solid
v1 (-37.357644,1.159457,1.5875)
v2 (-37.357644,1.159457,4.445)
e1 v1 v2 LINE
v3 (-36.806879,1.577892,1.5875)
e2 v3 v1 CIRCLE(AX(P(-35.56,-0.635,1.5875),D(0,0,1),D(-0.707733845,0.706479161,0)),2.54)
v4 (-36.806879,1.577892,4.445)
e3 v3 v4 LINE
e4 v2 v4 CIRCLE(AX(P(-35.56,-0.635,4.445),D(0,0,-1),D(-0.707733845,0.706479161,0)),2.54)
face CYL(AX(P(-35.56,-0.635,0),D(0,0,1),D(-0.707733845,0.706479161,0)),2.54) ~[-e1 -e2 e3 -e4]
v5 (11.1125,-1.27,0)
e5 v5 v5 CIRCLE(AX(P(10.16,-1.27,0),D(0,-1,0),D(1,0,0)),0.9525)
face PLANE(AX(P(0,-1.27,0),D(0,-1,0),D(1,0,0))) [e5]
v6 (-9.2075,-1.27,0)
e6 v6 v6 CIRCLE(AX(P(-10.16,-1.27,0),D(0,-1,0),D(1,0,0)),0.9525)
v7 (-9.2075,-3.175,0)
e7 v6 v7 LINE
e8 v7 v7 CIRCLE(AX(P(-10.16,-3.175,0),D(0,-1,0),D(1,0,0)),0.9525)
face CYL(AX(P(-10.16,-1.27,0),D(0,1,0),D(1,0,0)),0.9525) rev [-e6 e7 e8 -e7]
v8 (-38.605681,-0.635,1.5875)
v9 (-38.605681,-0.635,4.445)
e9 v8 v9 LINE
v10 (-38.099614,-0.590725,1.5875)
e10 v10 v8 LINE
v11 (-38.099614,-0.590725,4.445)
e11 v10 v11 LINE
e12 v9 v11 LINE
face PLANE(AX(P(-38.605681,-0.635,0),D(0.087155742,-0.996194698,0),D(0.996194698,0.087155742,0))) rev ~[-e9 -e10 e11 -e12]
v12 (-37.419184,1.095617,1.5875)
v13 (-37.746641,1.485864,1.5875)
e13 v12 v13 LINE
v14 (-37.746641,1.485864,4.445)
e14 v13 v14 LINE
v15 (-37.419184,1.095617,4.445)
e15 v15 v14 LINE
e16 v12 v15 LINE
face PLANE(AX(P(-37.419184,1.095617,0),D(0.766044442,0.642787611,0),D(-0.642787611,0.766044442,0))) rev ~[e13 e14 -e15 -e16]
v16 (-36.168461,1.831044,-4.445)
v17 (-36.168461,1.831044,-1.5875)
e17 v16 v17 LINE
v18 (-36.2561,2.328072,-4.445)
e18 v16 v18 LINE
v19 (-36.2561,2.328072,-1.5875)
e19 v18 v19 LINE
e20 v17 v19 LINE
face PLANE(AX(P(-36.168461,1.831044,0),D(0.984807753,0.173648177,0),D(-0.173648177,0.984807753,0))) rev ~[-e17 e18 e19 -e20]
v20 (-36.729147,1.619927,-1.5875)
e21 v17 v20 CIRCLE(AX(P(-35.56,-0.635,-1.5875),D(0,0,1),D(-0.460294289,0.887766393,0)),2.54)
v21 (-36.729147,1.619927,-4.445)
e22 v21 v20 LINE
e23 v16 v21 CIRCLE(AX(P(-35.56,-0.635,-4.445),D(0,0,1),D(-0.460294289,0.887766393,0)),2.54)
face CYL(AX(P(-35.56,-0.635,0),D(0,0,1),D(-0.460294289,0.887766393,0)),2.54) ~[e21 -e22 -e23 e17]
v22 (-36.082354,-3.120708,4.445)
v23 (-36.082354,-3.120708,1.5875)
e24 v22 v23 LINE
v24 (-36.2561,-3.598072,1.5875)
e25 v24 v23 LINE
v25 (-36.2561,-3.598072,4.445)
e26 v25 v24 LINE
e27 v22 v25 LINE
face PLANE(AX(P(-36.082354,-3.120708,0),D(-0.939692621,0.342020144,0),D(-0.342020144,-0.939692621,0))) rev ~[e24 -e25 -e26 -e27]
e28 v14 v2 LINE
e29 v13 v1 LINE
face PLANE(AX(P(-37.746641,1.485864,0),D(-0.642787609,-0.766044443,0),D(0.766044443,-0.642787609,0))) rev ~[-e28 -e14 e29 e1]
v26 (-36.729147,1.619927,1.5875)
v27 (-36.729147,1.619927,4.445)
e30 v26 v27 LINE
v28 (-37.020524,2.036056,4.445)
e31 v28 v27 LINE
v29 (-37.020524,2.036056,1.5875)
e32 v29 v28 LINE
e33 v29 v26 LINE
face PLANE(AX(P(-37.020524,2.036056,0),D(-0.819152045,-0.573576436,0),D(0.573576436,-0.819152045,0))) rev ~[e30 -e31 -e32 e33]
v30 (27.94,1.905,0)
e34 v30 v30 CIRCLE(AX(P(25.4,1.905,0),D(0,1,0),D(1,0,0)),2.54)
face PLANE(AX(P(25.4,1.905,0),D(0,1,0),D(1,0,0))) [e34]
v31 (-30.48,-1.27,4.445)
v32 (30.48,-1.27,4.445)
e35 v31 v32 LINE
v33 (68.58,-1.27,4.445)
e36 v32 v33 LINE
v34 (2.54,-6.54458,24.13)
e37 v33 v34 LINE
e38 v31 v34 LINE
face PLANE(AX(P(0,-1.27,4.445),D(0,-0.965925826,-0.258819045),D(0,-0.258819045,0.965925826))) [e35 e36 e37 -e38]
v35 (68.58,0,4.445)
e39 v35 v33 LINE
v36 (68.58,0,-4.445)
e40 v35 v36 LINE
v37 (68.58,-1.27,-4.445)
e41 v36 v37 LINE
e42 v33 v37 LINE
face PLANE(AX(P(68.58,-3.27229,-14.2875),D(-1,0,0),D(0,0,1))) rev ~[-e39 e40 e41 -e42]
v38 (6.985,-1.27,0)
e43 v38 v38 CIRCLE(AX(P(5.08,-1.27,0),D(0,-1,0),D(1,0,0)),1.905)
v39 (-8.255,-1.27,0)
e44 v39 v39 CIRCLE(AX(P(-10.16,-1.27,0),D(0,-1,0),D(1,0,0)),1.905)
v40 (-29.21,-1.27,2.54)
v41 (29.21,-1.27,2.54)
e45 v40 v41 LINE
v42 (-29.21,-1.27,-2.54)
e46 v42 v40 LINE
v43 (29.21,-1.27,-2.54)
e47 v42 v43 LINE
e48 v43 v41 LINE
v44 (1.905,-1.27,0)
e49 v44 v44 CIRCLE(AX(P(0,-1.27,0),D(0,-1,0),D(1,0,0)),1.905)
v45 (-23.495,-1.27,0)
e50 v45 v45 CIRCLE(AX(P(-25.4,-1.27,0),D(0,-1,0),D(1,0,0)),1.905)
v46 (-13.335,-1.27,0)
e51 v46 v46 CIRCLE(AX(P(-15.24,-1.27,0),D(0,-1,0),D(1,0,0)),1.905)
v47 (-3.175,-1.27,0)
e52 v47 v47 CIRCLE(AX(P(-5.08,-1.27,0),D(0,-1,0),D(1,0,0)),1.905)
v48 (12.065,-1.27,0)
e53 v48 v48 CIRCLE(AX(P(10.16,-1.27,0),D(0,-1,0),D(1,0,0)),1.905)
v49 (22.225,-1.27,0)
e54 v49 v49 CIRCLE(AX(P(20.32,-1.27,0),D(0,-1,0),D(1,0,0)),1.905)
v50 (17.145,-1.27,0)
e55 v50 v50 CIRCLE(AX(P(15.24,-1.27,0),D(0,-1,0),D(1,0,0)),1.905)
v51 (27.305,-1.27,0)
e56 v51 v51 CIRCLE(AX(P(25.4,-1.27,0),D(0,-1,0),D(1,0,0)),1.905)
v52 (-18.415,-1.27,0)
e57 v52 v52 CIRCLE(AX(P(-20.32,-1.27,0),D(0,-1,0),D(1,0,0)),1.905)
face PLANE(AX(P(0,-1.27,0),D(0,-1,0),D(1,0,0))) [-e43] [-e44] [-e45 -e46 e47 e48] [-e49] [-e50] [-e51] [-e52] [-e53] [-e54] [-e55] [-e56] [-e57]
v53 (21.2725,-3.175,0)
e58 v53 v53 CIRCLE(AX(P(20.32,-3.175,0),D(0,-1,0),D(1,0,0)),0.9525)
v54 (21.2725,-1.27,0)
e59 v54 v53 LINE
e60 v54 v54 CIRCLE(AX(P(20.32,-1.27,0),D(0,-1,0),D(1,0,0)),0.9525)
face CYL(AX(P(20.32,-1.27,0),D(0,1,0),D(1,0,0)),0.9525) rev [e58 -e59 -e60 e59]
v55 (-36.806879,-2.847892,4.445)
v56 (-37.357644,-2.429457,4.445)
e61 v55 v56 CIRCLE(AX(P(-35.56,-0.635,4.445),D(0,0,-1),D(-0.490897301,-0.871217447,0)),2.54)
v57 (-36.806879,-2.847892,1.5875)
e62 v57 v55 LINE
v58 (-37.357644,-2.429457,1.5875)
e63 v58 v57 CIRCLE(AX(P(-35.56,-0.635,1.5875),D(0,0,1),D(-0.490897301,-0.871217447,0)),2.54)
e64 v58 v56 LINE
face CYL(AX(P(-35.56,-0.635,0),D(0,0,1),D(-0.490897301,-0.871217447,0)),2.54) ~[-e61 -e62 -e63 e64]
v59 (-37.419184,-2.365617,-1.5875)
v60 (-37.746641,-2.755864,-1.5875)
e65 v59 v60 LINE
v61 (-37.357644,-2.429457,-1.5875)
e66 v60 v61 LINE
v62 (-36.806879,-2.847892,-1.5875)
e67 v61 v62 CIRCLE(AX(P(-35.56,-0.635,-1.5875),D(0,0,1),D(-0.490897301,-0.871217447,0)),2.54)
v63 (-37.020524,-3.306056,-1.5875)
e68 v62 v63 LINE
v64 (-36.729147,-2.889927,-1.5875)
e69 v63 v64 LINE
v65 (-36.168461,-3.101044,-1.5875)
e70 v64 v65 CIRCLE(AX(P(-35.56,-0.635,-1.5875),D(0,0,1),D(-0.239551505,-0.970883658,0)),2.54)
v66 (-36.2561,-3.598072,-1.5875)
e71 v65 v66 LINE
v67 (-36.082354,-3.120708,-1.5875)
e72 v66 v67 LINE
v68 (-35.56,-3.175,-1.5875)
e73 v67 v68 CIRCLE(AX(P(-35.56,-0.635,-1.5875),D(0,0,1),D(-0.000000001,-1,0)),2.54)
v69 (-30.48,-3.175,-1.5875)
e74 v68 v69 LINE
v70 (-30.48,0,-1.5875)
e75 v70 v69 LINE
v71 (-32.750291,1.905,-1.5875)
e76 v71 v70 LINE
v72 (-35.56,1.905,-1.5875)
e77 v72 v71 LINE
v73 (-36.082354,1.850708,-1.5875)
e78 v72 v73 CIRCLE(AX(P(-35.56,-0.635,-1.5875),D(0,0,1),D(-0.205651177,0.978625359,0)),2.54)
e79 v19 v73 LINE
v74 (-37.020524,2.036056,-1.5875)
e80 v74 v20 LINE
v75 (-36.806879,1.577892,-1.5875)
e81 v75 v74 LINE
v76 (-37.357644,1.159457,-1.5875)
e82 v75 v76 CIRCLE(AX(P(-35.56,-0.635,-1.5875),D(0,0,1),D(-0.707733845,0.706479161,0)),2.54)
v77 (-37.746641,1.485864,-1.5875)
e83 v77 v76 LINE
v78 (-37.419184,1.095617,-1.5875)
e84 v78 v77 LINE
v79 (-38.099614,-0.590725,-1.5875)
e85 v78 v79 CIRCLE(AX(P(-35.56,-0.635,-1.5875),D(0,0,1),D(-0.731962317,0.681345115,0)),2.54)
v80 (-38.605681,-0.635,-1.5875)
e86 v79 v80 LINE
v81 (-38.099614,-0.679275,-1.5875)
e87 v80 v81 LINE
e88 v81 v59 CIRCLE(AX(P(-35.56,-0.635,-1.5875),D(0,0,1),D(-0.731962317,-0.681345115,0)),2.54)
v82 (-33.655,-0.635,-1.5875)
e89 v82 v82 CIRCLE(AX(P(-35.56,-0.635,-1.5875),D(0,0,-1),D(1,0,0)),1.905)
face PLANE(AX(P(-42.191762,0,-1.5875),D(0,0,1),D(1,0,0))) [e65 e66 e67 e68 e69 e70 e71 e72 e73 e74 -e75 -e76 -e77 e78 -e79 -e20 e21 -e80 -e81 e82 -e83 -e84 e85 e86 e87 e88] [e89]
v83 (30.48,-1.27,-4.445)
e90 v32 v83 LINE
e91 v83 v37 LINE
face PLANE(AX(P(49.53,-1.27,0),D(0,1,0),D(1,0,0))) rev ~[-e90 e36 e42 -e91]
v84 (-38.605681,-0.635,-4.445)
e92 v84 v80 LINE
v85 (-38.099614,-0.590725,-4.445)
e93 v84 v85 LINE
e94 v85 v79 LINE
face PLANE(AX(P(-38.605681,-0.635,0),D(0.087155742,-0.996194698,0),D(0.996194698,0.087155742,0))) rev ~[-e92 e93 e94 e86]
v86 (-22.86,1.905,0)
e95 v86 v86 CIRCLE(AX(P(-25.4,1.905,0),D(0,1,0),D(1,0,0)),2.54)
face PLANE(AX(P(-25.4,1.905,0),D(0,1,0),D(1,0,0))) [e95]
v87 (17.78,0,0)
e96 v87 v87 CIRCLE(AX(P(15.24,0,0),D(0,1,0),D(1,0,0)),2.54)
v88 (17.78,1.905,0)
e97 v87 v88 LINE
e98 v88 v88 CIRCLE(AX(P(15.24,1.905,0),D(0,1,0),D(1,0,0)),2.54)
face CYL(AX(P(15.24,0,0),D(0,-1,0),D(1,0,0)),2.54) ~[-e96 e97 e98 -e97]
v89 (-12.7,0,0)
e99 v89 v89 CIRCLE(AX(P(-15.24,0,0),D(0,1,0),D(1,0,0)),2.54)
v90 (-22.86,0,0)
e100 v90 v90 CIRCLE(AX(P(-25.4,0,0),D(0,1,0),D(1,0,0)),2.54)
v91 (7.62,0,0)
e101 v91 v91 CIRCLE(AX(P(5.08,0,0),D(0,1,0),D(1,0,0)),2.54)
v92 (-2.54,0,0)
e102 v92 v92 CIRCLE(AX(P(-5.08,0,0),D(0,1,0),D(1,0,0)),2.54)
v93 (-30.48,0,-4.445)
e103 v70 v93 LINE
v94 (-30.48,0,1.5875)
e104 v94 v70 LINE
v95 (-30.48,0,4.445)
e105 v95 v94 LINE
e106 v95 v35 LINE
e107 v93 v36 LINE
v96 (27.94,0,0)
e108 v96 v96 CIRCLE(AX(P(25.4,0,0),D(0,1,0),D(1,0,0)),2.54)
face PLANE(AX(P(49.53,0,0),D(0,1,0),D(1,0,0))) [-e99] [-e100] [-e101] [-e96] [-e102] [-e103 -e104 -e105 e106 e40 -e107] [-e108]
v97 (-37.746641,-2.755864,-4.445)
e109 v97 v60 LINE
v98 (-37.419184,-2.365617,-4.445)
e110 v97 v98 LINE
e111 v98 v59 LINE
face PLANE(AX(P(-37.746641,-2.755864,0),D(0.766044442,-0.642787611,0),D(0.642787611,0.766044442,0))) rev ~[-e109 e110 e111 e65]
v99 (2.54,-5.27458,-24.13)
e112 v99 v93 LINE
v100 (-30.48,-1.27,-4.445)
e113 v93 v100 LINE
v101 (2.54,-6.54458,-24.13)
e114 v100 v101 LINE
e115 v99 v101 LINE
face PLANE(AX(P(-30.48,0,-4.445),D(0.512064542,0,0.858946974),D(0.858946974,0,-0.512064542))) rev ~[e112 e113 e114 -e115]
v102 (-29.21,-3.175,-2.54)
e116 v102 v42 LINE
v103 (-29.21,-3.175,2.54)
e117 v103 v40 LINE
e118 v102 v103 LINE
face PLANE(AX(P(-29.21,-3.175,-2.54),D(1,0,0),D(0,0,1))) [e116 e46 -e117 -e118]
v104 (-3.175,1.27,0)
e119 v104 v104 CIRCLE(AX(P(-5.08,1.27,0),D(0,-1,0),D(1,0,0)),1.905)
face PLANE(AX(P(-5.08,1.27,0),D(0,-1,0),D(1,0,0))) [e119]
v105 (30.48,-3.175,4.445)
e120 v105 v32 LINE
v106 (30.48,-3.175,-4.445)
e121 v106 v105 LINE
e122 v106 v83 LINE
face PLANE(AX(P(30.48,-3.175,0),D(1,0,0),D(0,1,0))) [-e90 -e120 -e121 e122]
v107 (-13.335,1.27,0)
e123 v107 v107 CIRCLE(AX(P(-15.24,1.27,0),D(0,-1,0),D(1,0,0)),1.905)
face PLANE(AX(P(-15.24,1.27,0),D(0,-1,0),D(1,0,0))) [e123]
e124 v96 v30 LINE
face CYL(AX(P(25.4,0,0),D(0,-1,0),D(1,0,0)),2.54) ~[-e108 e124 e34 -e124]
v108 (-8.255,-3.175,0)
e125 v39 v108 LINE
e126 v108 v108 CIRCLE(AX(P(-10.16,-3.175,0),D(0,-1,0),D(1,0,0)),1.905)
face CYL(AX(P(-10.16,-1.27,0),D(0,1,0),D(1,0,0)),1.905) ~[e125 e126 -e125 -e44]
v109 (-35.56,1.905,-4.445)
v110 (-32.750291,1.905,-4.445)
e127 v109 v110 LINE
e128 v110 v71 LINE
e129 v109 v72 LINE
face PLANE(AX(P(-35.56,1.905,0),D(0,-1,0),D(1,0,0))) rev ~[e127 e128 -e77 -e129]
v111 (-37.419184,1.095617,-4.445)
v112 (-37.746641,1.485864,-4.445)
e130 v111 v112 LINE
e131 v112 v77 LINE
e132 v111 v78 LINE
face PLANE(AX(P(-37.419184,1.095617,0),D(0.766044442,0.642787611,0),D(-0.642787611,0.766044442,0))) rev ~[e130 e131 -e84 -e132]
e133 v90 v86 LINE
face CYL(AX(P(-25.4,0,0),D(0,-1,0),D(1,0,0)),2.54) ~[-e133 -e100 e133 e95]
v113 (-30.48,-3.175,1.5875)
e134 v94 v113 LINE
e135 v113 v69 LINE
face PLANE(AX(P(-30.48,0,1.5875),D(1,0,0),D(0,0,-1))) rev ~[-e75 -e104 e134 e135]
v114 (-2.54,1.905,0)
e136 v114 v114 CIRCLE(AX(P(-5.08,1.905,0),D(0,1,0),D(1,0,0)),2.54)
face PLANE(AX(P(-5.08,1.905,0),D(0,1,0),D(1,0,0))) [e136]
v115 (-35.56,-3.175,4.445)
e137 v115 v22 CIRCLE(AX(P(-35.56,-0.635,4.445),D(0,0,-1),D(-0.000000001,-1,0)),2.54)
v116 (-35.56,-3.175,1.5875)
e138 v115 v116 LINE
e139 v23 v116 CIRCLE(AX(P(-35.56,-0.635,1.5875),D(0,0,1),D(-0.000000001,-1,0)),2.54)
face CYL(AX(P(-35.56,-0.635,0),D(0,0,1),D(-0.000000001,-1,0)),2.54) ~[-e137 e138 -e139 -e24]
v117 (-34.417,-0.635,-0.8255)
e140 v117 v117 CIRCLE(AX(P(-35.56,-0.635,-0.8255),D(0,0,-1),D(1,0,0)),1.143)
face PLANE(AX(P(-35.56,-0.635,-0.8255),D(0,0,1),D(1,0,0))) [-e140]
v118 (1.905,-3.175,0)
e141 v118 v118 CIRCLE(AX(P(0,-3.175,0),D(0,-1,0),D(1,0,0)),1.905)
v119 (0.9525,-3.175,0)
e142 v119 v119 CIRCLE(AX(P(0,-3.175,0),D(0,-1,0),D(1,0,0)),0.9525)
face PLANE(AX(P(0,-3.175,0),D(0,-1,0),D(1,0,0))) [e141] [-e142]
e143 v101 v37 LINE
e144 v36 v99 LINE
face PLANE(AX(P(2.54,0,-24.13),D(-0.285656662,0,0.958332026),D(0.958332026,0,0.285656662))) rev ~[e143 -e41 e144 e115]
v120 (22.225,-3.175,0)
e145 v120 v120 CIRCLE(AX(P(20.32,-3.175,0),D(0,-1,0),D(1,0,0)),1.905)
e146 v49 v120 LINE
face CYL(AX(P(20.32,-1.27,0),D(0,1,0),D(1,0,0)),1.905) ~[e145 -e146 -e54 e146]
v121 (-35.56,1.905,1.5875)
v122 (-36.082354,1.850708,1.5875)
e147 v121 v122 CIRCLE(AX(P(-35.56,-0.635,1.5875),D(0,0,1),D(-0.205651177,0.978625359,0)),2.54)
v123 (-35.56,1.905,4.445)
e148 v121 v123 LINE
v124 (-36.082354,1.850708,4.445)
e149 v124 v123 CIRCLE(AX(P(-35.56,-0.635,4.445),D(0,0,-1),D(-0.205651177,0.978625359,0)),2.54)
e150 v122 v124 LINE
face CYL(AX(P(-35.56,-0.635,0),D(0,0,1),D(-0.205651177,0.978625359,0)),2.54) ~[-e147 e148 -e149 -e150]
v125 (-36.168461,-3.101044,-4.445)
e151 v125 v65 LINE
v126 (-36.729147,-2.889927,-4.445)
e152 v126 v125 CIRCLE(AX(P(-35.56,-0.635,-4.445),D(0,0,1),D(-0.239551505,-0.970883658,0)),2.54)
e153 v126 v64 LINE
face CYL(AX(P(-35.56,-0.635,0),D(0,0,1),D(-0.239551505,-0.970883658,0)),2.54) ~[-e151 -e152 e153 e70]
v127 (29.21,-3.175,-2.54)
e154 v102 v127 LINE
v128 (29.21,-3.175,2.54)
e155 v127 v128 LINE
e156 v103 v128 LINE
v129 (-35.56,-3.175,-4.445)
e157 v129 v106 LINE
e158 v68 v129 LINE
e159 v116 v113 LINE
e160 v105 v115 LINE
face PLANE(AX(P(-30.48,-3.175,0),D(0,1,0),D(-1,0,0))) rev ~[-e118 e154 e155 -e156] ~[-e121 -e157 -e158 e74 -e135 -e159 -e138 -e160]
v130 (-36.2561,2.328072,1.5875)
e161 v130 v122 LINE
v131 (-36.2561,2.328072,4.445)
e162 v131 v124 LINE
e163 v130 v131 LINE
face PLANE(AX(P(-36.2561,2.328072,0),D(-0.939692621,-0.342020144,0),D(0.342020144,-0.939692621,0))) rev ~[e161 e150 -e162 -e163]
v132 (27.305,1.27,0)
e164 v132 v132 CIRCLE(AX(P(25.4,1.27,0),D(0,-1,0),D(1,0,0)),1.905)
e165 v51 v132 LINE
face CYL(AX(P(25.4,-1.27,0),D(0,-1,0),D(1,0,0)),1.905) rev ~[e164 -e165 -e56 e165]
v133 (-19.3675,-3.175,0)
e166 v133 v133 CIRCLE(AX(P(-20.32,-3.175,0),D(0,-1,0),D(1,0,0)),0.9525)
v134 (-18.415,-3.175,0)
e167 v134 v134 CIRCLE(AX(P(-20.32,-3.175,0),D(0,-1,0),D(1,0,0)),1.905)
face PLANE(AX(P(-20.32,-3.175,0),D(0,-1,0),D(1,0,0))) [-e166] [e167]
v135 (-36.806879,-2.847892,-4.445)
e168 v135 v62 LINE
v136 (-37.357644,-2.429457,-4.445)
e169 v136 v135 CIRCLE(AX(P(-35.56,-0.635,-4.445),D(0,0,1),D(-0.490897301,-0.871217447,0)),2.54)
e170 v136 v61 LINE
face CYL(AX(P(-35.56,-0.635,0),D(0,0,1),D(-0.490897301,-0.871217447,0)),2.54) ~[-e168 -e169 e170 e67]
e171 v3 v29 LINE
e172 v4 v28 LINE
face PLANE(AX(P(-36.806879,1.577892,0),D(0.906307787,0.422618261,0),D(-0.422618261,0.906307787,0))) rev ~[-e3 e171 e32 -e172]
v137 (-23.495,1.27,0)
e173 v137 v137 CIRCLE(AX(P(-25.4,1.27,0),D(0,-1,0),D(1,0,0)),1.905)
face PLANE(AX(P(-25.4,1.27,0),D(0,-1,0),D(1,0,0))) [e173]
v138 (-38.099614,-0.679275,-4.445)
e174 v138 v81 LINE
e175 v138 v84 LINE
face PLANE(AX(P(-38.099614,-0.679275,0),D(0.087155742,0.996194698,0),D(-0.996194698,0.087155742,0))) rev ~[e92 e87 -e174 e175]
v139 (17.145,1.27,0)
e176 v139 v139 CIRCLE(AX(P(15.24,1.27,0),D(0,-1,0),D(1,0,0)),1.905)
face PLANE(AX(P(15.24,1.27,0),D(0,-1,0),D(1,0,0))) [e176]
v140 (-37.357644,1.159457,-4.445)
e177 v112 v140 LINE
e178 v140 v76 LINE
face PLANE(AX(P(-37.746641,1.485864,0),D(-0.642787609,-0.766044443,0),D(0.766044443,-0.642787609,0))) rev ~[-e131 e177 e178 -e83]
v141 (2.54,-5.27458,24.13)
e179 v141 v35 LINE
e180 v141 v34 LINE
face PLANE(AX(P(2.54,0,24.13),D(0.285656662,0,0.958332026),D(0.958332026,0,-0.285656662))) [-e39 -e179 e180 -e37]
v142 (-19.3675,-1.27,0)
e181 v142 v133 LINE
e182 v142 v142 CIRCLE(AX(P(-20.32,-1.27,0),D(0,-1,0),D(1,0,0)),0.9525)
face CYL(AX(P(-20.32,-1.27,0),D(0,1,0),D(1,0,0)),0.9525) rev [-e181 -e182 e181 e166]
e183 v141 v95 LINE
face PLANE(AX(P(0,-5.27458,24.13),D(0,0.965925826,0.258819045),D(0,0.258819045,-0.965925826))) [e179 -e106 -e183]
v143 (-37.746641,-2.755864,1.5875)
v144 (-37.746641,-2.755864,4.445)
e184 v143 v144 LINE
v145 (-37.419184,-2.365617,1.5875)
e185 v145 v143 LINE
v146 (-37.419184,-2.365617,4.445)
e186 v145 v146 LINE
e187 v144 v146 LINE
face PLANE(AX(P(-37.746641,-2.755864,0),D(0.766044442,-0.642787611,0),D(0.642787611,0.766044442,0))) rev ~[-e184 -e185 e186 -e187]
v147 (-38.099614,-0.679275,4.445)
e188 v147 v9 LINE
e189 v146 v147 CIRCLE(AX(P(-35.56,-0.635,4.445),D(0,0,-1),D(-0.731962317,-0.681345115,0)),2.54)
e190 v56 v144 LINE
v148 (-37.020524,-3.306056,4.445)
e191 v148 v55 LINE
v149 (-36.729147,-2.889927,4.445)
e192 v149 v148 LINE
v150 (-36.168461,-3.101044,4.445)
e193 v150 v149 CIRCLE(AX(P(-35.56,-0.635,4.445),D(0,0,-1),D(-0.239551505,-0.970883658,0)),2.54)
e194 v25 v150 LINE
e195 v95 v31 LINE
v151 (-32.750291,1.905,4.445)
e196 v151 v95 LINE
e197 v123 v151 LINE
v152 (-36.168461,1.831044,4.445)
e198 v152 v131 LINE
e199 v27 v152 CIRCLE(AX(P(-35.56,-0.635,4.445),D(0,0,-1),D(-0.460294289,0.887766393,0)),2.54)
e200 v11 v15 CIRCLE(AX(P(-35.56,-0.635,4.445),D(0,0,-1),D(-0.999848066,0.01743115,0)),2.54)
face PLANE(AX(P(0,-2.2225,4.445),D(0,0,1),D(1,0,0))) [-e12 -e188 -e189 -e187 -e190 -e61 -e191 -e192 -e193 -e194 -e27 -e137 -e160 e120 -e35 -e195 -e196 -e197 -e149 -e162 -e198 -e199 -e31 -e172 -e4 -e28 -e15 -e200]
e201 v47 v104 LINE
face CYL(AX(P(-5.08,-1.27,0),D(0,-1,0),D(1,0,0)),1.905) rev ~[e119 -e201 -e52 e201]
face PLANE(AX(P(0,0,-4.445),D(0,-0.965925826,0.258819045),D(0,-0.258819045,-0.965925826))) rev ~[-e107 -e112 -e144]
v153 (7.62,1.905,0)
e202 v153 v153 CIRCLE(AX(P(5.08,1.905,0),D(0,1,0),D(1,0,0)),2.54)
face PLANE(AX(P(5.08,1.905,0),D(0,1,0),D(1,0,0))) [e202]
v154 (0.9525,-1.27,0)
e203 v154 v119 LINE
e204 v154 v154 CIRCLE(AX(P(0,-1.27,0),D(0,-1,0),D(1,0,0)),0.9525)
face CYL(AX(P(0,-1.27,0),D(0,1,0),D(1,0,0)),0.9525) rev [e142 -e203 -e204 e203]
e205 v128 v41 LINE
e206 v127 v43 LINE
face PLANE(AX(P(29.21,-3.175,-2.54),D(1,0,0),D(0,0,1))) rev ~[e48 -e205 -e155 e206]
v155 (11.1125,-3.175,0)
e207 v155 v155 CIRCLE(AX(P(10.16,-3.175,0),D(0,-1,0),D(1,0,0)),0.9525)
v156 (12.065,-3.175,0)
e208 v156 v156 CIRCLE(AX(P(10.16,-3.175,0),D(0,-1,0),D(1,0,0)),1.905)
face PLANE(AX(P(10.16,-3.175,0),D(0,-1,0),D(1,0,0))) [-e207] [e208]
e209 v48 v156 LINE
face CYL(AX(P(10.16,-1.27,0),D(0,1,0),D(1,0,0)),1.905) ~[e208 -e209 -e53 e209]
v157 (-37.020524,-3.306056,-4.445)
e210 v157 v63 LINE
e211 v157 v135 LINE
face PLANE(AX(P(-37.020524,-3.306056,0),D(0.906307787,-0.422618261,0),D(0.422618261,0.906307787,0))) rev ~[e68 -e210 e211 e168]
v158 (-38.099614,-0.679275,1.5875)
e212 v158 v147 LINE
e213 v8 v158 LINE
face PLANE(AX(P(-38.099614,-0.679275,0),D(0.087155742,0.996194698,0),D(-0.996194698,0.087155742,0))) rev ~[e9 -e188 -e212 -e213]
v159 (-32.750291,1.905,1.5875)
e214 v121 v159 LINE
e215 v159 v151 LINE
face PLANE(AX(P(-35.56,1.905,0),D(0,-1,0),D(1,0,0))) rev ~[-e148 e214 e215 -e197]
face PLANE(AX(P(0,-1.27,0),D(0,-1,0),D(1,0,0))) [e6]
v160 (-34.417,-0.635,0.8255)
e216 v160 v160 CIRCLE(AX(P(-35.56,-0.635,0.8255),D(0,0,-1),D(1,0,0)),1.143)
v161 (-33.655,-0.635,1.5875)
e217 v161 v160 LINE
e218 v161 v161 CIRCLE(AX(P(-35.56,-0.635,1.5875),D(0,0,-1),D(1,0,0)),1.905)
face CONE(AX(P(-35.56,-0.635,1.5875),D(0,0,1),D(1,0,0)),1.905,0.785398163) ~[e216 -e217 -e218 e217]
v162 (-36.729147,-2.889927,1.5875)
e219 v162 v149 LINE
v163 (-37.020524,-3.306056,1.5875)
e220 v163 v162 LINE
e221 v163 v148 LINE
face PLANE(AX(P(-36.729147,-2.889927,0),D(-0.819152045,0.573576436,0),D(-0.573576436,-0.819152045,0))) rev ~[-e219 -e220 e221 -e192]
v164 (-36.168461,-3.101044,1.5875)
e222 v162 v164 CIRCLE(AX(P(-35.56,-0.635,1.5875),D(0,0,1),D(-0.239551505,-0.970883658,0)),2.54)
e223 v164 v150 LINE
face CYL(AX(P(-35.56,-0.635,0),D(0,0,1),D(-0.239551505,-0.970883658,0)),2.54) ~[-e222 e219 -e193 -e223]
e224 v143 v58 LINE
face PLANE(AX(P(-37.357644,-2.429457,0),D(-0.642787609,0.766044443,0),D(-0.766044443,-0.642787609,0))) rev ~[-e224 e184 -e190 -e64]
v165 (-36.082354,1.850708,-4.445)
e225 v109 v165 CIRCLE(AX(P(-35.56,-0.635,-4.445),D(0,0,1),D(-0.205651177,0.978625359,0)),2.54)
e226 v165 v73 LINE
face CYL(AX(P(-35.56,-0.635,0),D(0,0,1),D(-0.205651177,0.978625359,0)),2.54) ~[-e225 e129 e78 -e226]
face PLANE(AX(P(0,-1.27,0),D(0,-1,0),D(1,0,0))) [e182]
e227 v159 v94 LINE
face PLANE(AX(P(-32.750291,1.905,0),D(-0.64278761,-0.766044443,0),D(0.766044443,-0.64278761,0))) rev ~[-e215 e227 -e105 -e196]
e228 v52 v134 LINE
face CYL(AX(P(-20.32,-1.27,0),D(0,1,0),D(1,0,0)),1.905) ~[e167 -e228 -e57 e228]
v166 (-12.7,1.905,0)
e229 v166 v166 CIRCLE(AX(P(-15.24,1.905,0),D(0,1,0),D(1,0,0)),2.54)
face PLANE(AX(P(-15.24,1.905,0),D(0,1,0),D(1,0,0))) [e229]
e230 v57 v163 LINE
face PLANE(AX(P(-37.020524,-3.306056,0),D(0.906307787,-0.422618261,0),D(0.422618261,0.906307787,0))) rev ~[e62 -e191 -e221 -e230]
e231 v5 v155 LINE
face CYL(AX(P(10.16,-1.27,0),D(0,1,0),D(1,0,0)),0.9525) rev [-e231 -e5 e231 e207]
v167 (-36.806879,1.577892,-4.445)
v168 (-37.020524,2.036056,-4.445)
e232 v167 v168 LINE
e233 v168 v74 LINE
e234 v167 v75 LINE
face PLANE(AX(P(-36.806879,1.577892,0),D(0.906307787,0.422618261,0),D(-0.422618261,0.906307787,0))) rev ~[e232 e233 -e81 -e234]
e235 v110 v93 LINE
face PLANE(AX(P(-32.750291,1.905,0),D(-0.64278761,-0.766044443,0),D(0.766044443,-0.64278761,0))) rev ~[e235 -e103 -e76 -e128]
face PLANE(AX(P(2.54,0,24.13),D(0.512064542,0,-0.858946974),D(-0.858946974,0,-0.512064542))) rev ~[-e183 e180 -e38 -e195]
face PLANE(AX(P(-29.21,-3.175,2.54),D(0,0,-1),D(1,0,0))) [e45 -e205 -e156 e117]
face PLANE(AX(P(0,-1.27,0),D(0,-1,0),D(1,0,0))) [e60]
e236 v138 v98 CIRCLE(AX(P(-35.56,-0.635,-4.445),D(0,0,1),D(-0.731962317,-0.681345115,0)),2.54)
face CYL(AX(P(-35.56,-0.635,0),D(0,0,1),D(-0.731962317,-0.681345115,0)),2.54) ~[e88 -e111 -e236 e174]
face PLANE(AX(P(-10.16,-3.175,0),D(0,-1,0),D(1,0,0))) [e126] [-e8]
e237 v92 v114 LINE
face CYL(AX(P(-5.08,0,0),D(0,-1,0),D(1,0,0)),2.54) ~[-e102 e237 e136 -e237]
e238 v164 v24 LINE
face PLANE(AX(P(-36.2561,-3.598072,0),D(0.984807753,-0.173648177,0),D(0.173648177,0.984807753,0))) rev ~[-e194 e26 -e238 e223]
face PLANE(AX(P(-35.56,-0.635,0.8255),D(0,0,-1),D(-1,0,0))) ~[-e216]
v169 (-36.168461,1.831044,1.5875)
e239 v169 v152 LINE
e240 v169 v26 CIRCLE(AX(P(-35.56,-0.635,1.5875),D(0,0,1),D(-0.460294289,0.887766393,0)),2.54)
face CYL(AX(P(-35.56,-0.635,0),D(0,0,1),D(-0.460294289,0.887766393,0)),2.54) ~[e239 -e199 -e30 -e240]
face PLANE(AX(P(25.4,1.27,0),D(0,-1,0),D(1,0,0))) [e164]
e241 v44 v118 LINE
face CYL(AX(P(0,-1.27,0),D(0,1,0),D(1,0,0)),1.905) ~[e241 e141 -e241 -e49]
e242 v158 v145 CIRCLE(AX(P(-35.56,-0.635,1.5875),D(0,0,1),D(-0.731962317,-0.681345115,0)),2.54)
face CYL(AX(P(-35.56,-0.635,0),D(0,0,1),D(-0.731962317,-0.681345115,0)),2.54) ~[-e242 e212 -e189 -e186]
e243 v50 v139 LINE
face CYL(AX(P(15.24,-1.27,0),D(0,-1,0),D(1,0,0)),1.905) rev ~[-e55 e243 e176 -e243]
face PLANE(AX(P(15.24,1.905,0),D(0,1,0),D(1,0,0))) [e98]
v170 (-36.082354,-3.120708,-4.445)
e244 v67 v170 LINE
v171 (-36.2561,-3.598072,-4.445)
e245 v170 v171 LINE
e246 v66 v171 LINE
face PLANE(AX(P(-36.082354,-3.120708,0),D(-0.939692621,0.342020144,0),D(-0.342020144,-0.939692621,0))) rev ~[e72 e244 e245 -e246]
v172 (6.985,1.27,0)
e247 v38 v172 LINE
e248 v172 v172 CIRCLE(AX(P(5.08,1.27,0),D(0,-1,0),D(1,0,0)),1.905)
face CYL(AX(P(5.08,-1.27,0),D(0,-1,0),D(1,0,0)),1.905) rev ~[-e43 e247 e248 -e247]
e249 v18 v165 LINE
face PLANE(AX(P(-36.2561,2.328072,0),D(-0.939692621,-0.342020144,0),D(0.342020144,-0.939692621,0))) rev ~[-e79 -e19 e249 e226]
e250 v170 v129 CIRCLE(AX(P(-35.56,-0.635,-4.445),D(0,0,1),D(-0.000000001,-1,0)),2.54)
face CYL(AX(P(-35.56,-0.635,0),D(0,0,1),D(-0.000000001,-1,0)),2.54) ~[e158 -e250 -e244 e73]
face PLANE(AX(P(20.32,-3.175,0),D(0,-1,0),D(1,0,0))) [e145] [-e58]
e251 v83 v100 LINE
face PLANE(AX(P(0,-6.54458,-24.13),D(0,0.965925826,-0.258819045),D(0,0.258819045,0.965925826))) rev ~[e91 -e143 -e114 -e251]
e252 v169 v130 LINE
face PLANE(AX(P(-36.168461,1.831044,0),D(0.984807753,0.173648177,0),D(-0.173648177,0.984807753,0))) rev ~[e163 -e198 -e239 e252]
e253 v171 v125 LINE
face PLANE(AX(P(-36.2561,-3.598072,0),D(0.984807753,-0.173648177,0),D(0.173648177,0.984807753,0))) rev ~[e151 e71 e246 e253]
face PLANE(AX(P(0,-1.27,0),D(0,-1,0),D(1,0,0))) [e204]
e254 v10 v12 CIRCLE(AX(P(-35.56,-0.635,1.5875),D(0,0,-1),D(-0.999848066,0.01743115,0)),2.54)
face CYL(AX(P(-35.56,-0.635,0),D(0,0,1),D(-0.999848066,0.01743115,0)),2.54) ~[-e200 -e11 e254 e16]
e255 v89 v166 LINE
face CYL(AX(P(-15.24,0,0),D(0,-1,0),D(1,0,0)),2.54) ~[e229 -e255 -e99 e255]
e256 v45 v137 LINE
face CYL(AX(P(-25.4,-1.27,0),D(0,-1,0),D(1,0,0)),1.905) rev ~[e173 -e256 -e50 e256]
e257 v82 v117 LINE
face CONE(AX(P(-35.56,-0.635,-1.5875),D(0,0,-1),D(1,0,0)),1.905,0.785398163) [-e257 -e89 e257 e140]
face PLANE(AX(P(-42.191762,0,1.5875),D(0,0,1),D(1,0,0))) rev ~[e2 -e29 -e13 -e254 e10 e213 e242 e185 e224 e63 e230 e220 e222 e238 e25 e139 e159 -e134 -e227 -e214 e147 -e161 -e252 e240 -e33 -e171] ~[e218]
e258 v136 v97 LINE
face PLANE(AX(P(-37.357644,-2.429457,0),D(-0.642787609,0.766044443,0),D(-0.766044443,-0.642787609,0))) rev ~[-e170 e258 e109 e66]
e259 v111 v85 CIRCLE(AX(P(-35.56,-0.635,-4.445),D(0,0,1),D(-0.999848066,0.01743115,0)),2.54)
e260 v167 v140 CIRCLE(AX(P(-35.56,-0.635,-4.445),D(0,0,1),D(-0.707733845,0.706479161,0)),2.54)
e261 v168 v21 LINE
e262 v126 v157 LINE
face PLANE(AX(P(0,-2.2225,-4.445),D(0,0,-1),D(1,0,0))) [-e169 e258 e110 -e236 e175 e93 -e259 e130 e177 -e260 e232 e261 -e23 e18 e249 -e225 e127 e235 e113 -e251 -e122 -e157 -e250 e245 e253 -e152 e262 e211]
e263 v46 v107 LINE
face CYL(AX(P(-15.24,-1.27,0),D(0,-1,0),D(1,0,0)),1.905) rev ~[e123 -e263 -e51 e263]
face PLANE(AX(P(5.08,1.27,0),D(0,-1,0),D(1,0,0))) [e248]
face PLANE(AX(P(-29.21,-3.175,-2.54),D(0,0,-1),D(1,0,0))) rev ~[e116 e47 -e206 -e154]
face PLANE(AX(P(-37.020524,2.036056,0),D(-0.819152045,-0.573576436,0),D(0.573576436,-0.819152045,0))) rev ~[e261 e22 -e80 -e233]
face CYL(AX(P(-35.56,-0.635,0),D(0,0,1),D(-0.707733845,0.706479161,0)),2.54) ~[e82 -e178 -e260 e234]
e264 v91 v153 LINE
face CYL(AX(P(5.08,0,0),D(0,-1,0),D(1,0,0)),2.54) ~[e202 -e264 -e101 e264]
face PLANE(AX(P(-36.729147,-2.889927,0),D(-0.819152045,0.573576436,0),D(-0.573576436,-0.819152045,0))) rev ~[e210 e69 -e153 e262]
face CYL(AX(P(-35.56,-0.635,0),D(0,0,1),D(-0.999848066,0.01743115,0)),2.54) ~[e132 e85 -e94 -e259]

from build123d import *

# Parameters (mm, degrees)
SKETCH1_W                       = 60.96
SKETCH1_H                       = 3.175
BOSS_EXTRUDE1_DEPTH             = 4.445
SKETCH3_R                       = 2.54
BOSS_EXTRUDE2_DEPTH             = 1.905
SKETCH4_W                       = 38.1
SKETCH4_H                       = 8.89
BOSS_EXTRUDE3_DEPTH             = 1.27
BOSS_EXTRUDE4_DEPTH             = 68.58
BOSS_EXTRUDE4_DEPTH_BACK        = 30.48
CUT_EXTRUDE1_DEPTH              = 2.905
CUT_EXTRUDE1_DEPTH_BACK         = 7.544579853
BOSS_EXTRUDE5_REACH             = 26.13
BOSS_EXTRUDE5_DIRECTION_2_REACH = 26.13
SKETCH9_W                       = 11.711761908
SKETCH9_H                       = 3.175
CUT_EXTRUDE2_DEPTH              = 3.328072262
CUT_EXTRUDE2_DEPTH_BACK         = 7.544579853
SKETCH10_R                      = 1.905
BOSS_EXTRUDE6_DEPTH             = 0.762
BOSS_EXTRUDE6_TAPER             = 45
SKETCH11_W                      = 58.42
SKETCH11_H                      = 5.08
CUT_EXTRUDE3_DEPTH              = 1.905
SKETCH12_R                      = 1.905
CUT_EXTRUDE5_DEPTH              = 2.54
SKETCH13_R                      = 1.905
SKETCH13_R_2                    = 0.9525
BOSS_EXTRUDE7_DEPTH             = 1.905


with BuildPart() as part:
    # Sketch1 → Boss-Extrude1 (new body, symmetric)
    with BuildSketch(Plane.XY):
        with Locations((0, -1.5875)):
            Rectangle(SKETCH1_W, SKETCH1_H)
    extrude(amount=BOSS_EXTRUDE1_DEPTH, both=True)

    # Sketch3 → Boss-Extrude2 (add)
    with BuildSketch(Plane(origin=(0, 0, 0), x_dir=(1, 0, 0), z_dir=(0, 1, 0))):
        with Locations((-25.4, 0)):
            Circle(SKETCH3_R)
        with Locations((-15.24, 0)):
            Circle(SKETCH3_R)
        with Locations((-5.08, 0)):
            Circle(SKETCH3_R)
        with Locations((5.08, 0)):
            Circle(SKETCH3_R)
        with Locations((15.24, 0)):
            Circle(SKETCH3_R)
        with Locations((25.4, 0)):
            Circle(SKETCH3_R)
    extrude(amount=BOSS_EXTRUDE2_DEPTH)

    # Sketch4 → Boss-Extrude3 (add)
    with BuildSketch(Plane(origin=(0, 0, 0), x_dir=(1, 0, 0), z_dir=(0, 1, 0))):
        with Locations((49.53, 0)):
            Rectangle(SKETCH4_W, SKETCH4_H)
    extrude(amount=-BOSS_EXTRUDE3_DEPTH)

    # Sketch5 → Boss-Extrude4 (add, two sides)
    with BuildSketch(Plane(origin=(0, 0, 0), x_dir=(0, 0, -1), z_dir=(1, 0, 0))) as boss_extrude4_sk:
        Polygon((4.445, 0), (24.13, -5.274579853), (24.13, -6.544579853), (4.445, -1.27), align=None)
        Polygon((-24.13, -6.544579853), (-24.13, -5.274579853), (-4.445, 0), (-4.445, -1.27), align=None)
    extrude(amount=BOSS_EXTRUDE4_DEPTH)
    extrude(boss_extrude4_sk.sketch, amount=-BOSS_EXTRUDE4_DEPTH_BACK)

    # Sketch7 → Cut-Extrude1 (cut, two sides)
    with BuildSketch(Plane(origin=(0, 0, 0), x_dir=(1, 0, 0), z_dir=(0, 1, 0))) as cut_extrude1_sk:
        Polygon((-30.48, 24.13), (-30.48, 4.445), (2.54, 24.13), align=None)
        Polygon((68.58, 24.13), (2.54, 24.13), (68.58, 4.445), align=None)
        Polygon((2.54, -24.13), (68.58, -4.445), (68.58, -24.13), align=None)
        Polygon((-30.48, -4.445), (-30.48, -24.13), (2.54, -24.13), align=None)
    extrude(amount=CUT_EXTRUDE1_DEPTH, mode=Mode.SUBTRACT)
    extrude(cut_extrude1_sk.sketch, amount=-CUT_EXTRUDE1_DEPTH_BACK, mode=Mode.SUBTRACT)

    # Boss-Extrude5: up to this face of the body (flat: up to its plane)
    boss_extrude5_end = Plane(part.part.faces().sort_by_distance((0, -2.2225, 4.445))[0])
    # Sketch8 → Boss-Extrude5 (add, up to the picked face)
    with BuildSketch(Plane.XY, mode=Mode.PRIVATE) as boss_extrude5_sk1:
        with BuildLine():
            Line((-30.48, -3.175), (-35.56, -3.175))
            ThreePointArc((-35.56, -3.175), (-35.822583927, -3.161390643), (-36.082353996, -3.120708411))
            Line((-36.082353996, -3.120708411), (-36.256100229, -3.598072262))
            Line((-36.256100229, -3.598072262), (-36.168460823, -3.10104449))
            ThreePointArc((-36.168460823, -3.10104449), (-36.455050568, -3.012074774), (-36.729147494, -2.889926637))
            Line((-36.729147494, -2.889926637), (-37.020524323, -3.306055875))
            Line((-37.020524323, -3.306055875), (-36.806879146, -2.847892314))
            ThreePointArc((-36.806879146, -2.847892314), (-37.096571594, -2.657510256), (-37.357643969, -2.429457066))
            Line((-37.357643969, -2.429457066), (-37.746641055, -2.755864377))
            Line((-37.746641055, -2.755864377), (-37.419184284, -2.365616595))
            ThreePointArc((-37.419184284, -2.365616595), (-37.915481622, -1.585424288), (-38.099614088, -0.679275117))
            Line((-38.099614088, -0.679275117), (-38.605680994, -0.635))
            Line((-38.605680994, -0.635), (-38.099614088, -0.590724883))
            ThreePointArc((-38.099614088, -0.590724883), (-37.915481622, 0.315424288), (-37.419184284, 1.095616595))
            Line((-37.419184284, 1.095616595), (-37.746641055, 1.485864377))
            Line((-37.746641055, 1.485864377), (-37.357643969, 1.159457066))
            ThreePointArc((-37.357643969, 1.159457066), (-37.096571594, 1.387510256), (-36.806879146, 1.577892314))
            Line((-36.806879146, 1.577892314), (-37.020524323, 2.036055875))
            Line((-37.020524323, 2.036055875), (-36.729147494, 1.619926637))
            ThreePointArc((-36.729147494, 1.619926637), (-36.455050568, 1.742074774), (-36.168460823, 1.83104449))
            Line((-36.168460823, 1.83104449), (-36.256100229, 2.328072262))
            Line((-36.256100229, 2.328072262), (-36.082353996, 1.850708411))
            ThreePointArc((-36.082353996, 1.850708411), (-35.822583927, 1.891390643), (-35.56, 1.905))
            Line((-35.56, 1.905), (-32.750290594, 1.905))
            Line((-32.750290594, 1.905), (-30.48, 0))
            Line((-30.48, 0), (-30.48, -3.175))
        make_face()
    boss_extrude5_tool1 = split(extrude(boss_extrude5_sk1.sketch, amount=BOSS_EXTRUDE5_REACH, mode=Mode.PRIVATE), bisect_by=boss_extrude5_end, keep=Keep.BOTH, mode=Mode.PRIVATE)
    add(boss_extrude5_tool1.solids().sort_by_distance((-34.232672, -0.756395, 0))[0])

    # Boss-Extrude5 direction 2: up to this face of the body (flat: up to its plane)
    boss_extrude5_direction_2_end = Plane(part.part.faces().sort_by_distance((0, -2.2225, -4.445))[0])
    # Sketch8 → Boss-Extrude5 direction 2 (add, up to the picked face)
    with BuildSketch(Plane.XY, mode=Mode.PRIVATE) as boss_extrude5_direction_2_sk1:
        with BuildLine():
            Line((-30.48, -3.175), (-35.56, -3.175))
            ThreePointArc((-35.56, -3.175), (-35.822583927, -3.161390643), (-36.082353996, -3.120708411))
            Line((-36.082353996, -3.120708411), (-36.256100229, -3.598072262))
            Line((-36.256100229, -3.598072262), (-36.168460823, -3.10104449))
            ThreePointArc((-36.168460823, -3.10104449), (-36.455050568, -3.012074774), (-36.729147494, -2.889926637))
            Line((-36.729147494, -2.889926637), (-37.020524323, -3.306055875))
            Line((-37.020524323, -3.306055875), (-36.806879146, -2.847892314))
            ThreePointArc((-36.806879146, -2.847892314), (-37.096571594, -2.657510256), (-37.357643969, -2.429457066))
            Line((-37.357643969, -2.429457066), (-37.746641055, -2.755864377))
            Line((-37.746641055, -2.755864377), (-37.419184284, -2.365616595))
            ThreePointArc((-37.419184284, -2.365616595), (-37.915481622, -1.585424288), (-38.099614088, -0.679275117))
            Line((-38.099614088, -0.679275117), (-38.605680994, -0.635))
            Line((-38.605680994, -0.635), (-38.099614088, -0.590724883))
            ThreePointArc((-38.099614088, -0.590724883), (-37.915481622, 0.315424288), (-37.419184284, 1.095616595))
            Line((-37.419184284, 1.095616595), (-37.746641055, 1.485864377))
            Line((-37.746641055, 1.485864377), (-37.357643969, 1.159457066))
            ThreePointArc((-37.357643969, 1.159457066), (-37.096571594, 1.387510256), (-36.806879146, 1.577892314))
            Line((-36.806879146, 1.577892314), (-37.020524323, 2.036055875))
            Line((-37.020524323, 2.036055875), (-36.729147494, 1.619926637))
            ThreePointArc((-36.729147494, 1.619926637), (-36.455050568, 1.742074774), (-36.168460823, 1.83104449))
            Line((-36.168460823, 1.83104449), (-36.256100229, 2.328072262))
            Line((-36.256100229, 2.328072262), (-36.082353996, 1.850708411))
            ThreePointArc((-36.082353996, 1.850708411), (-35.822583927, 1.891390643), (-35.56, 1.905))
            Line((-35.56, 1.905), (-32.750290594, 1.905))
            Line((-32.750290594, 1.905), (-30.48, 0))
            Line((-30.48, 0), (-30.48, -3.175))
        make_face()
    boss_extrude5_direction_2_tool1 = split(extrude(boss_extrude5_direction_2_sk1.sketch, amount=-BOSS_EXTRUDE5_DIRECTION_2_REACH, mode=Mode.PRIVATE), bisect_by=boss_extrude5_direction_2_end, keep=Keep.BOTH, mode=Mode.PRIVATE)
    add(boss_extrude5_direction_2_tool1.solids().sort_by_distance((-34.232672, -0.756395, 0))[0])

    # Sketch9 → Cut-Extrude2 (cut, two sides)
    with BuildSketch(Plane(origin=(0, 0, 0), x_dir=(1, 0, 0), z_dir=(0, 1, 0))) as cut_extrude2_sk:
        with Locations((-36.335880954, 0)):
            Rectangle(SKETCH9_W, SKETCH9_H)
    extrude(amount=CUT_EXTRUDE2_DEPTH, mode=Mode.SUBTRACT)
    extrude(cut_extrude2_sk.sketch, amount=-CUT_EXTRUDE2_DEPTH_BACK, mode=Mode.SUBTRACT)

    # Sketch10 → Boss-Extrude6 (add)
    with BuildSketch(Plane.XY.offset(-1.5875)):
        with Locations((-35.56, -0.635)):
            Circle(SKETCH10_R)
    boss_extrude6 = extrude(amount=BOSS_EXTRUDE6_DEPTH, taper=BOSS_EXTRUDE6_TAPER)

    # Mirror1: Boss-Extrude6 across plane
    add(boss_extrude6.mirror(Plane.XY))

    # Sketch11 → Cut-Extrude3 (cut)
    with BuildSketch(Plane.XZ.offset(3.175)):
        Rectangle(SKETCH11_W, SKETCH11_H)
    extrude(amount=-CUT_EXTRUDE3_DEPTH, mode=Mode.SUBTRACT)

    # Sketch12 → Cut-Extrude5 (cut)
    with BuildSketch(Plane.XZ.offset(1.27)):
        with Locations((-25.4, 0)):
            Circle(SKETCH12_R)
        with Locations((-15.24, 0)):
            Circle(SKETCH12_R)
        with Locations((-5.08, 0)):
            Circle(SKETCH12_R)
        with Locations((5.08, 0)):
            Circle(SKETCH12_R)
        with Locations((15.24, 0)):
            Circle(SKETCH12_R)
        with Locations((25.4, 0)):
            Circle(SKETCH12_R)
    extrude(amount=-CUT_EXTRUDE5_DEPTH, mode=Mode.SUBTRACT)

    # Sketch13 → Boss-Extrude7 (add)
    with BuildSketch(Plane.XZ.offset(1.27)):
        with Locations((-20.32, 0)):
            Circle(SKETCH13_R)
        with Locations((-20.32, 0)):
            Circle(SKETCH13_R_2, mode=Mode.SUBTRACT)
        with Locations((-10.16, 0)):
            Circle(SKETCH13_R)
        with Locations((-10.16, 0)):
            Circle(SKETCH13_R_2, mode=Mode.SUBTRACT)
        with Locations((10.16, 0)):
            Circle(SKETCH13_R)
        with Locations((10.16, 0)):
            Circle(SKETCH13_R_2, mode=Mode.SUBTRACT)
        with Locations((20.32, 0)):
            Circle(SKETCH13_R)
        with Locations((20.32, 0)):
            Circle(SKETCH13_R_2, mode=Mode.SUBTRACT)
        Circle(SKETCH13_R)
        Circle(SKETCH13_R_2, mode=Mode.SUBTRACT)
    extrude(amount=BOSS_EXTRUDE7_DEPTH)


solid = part.part
